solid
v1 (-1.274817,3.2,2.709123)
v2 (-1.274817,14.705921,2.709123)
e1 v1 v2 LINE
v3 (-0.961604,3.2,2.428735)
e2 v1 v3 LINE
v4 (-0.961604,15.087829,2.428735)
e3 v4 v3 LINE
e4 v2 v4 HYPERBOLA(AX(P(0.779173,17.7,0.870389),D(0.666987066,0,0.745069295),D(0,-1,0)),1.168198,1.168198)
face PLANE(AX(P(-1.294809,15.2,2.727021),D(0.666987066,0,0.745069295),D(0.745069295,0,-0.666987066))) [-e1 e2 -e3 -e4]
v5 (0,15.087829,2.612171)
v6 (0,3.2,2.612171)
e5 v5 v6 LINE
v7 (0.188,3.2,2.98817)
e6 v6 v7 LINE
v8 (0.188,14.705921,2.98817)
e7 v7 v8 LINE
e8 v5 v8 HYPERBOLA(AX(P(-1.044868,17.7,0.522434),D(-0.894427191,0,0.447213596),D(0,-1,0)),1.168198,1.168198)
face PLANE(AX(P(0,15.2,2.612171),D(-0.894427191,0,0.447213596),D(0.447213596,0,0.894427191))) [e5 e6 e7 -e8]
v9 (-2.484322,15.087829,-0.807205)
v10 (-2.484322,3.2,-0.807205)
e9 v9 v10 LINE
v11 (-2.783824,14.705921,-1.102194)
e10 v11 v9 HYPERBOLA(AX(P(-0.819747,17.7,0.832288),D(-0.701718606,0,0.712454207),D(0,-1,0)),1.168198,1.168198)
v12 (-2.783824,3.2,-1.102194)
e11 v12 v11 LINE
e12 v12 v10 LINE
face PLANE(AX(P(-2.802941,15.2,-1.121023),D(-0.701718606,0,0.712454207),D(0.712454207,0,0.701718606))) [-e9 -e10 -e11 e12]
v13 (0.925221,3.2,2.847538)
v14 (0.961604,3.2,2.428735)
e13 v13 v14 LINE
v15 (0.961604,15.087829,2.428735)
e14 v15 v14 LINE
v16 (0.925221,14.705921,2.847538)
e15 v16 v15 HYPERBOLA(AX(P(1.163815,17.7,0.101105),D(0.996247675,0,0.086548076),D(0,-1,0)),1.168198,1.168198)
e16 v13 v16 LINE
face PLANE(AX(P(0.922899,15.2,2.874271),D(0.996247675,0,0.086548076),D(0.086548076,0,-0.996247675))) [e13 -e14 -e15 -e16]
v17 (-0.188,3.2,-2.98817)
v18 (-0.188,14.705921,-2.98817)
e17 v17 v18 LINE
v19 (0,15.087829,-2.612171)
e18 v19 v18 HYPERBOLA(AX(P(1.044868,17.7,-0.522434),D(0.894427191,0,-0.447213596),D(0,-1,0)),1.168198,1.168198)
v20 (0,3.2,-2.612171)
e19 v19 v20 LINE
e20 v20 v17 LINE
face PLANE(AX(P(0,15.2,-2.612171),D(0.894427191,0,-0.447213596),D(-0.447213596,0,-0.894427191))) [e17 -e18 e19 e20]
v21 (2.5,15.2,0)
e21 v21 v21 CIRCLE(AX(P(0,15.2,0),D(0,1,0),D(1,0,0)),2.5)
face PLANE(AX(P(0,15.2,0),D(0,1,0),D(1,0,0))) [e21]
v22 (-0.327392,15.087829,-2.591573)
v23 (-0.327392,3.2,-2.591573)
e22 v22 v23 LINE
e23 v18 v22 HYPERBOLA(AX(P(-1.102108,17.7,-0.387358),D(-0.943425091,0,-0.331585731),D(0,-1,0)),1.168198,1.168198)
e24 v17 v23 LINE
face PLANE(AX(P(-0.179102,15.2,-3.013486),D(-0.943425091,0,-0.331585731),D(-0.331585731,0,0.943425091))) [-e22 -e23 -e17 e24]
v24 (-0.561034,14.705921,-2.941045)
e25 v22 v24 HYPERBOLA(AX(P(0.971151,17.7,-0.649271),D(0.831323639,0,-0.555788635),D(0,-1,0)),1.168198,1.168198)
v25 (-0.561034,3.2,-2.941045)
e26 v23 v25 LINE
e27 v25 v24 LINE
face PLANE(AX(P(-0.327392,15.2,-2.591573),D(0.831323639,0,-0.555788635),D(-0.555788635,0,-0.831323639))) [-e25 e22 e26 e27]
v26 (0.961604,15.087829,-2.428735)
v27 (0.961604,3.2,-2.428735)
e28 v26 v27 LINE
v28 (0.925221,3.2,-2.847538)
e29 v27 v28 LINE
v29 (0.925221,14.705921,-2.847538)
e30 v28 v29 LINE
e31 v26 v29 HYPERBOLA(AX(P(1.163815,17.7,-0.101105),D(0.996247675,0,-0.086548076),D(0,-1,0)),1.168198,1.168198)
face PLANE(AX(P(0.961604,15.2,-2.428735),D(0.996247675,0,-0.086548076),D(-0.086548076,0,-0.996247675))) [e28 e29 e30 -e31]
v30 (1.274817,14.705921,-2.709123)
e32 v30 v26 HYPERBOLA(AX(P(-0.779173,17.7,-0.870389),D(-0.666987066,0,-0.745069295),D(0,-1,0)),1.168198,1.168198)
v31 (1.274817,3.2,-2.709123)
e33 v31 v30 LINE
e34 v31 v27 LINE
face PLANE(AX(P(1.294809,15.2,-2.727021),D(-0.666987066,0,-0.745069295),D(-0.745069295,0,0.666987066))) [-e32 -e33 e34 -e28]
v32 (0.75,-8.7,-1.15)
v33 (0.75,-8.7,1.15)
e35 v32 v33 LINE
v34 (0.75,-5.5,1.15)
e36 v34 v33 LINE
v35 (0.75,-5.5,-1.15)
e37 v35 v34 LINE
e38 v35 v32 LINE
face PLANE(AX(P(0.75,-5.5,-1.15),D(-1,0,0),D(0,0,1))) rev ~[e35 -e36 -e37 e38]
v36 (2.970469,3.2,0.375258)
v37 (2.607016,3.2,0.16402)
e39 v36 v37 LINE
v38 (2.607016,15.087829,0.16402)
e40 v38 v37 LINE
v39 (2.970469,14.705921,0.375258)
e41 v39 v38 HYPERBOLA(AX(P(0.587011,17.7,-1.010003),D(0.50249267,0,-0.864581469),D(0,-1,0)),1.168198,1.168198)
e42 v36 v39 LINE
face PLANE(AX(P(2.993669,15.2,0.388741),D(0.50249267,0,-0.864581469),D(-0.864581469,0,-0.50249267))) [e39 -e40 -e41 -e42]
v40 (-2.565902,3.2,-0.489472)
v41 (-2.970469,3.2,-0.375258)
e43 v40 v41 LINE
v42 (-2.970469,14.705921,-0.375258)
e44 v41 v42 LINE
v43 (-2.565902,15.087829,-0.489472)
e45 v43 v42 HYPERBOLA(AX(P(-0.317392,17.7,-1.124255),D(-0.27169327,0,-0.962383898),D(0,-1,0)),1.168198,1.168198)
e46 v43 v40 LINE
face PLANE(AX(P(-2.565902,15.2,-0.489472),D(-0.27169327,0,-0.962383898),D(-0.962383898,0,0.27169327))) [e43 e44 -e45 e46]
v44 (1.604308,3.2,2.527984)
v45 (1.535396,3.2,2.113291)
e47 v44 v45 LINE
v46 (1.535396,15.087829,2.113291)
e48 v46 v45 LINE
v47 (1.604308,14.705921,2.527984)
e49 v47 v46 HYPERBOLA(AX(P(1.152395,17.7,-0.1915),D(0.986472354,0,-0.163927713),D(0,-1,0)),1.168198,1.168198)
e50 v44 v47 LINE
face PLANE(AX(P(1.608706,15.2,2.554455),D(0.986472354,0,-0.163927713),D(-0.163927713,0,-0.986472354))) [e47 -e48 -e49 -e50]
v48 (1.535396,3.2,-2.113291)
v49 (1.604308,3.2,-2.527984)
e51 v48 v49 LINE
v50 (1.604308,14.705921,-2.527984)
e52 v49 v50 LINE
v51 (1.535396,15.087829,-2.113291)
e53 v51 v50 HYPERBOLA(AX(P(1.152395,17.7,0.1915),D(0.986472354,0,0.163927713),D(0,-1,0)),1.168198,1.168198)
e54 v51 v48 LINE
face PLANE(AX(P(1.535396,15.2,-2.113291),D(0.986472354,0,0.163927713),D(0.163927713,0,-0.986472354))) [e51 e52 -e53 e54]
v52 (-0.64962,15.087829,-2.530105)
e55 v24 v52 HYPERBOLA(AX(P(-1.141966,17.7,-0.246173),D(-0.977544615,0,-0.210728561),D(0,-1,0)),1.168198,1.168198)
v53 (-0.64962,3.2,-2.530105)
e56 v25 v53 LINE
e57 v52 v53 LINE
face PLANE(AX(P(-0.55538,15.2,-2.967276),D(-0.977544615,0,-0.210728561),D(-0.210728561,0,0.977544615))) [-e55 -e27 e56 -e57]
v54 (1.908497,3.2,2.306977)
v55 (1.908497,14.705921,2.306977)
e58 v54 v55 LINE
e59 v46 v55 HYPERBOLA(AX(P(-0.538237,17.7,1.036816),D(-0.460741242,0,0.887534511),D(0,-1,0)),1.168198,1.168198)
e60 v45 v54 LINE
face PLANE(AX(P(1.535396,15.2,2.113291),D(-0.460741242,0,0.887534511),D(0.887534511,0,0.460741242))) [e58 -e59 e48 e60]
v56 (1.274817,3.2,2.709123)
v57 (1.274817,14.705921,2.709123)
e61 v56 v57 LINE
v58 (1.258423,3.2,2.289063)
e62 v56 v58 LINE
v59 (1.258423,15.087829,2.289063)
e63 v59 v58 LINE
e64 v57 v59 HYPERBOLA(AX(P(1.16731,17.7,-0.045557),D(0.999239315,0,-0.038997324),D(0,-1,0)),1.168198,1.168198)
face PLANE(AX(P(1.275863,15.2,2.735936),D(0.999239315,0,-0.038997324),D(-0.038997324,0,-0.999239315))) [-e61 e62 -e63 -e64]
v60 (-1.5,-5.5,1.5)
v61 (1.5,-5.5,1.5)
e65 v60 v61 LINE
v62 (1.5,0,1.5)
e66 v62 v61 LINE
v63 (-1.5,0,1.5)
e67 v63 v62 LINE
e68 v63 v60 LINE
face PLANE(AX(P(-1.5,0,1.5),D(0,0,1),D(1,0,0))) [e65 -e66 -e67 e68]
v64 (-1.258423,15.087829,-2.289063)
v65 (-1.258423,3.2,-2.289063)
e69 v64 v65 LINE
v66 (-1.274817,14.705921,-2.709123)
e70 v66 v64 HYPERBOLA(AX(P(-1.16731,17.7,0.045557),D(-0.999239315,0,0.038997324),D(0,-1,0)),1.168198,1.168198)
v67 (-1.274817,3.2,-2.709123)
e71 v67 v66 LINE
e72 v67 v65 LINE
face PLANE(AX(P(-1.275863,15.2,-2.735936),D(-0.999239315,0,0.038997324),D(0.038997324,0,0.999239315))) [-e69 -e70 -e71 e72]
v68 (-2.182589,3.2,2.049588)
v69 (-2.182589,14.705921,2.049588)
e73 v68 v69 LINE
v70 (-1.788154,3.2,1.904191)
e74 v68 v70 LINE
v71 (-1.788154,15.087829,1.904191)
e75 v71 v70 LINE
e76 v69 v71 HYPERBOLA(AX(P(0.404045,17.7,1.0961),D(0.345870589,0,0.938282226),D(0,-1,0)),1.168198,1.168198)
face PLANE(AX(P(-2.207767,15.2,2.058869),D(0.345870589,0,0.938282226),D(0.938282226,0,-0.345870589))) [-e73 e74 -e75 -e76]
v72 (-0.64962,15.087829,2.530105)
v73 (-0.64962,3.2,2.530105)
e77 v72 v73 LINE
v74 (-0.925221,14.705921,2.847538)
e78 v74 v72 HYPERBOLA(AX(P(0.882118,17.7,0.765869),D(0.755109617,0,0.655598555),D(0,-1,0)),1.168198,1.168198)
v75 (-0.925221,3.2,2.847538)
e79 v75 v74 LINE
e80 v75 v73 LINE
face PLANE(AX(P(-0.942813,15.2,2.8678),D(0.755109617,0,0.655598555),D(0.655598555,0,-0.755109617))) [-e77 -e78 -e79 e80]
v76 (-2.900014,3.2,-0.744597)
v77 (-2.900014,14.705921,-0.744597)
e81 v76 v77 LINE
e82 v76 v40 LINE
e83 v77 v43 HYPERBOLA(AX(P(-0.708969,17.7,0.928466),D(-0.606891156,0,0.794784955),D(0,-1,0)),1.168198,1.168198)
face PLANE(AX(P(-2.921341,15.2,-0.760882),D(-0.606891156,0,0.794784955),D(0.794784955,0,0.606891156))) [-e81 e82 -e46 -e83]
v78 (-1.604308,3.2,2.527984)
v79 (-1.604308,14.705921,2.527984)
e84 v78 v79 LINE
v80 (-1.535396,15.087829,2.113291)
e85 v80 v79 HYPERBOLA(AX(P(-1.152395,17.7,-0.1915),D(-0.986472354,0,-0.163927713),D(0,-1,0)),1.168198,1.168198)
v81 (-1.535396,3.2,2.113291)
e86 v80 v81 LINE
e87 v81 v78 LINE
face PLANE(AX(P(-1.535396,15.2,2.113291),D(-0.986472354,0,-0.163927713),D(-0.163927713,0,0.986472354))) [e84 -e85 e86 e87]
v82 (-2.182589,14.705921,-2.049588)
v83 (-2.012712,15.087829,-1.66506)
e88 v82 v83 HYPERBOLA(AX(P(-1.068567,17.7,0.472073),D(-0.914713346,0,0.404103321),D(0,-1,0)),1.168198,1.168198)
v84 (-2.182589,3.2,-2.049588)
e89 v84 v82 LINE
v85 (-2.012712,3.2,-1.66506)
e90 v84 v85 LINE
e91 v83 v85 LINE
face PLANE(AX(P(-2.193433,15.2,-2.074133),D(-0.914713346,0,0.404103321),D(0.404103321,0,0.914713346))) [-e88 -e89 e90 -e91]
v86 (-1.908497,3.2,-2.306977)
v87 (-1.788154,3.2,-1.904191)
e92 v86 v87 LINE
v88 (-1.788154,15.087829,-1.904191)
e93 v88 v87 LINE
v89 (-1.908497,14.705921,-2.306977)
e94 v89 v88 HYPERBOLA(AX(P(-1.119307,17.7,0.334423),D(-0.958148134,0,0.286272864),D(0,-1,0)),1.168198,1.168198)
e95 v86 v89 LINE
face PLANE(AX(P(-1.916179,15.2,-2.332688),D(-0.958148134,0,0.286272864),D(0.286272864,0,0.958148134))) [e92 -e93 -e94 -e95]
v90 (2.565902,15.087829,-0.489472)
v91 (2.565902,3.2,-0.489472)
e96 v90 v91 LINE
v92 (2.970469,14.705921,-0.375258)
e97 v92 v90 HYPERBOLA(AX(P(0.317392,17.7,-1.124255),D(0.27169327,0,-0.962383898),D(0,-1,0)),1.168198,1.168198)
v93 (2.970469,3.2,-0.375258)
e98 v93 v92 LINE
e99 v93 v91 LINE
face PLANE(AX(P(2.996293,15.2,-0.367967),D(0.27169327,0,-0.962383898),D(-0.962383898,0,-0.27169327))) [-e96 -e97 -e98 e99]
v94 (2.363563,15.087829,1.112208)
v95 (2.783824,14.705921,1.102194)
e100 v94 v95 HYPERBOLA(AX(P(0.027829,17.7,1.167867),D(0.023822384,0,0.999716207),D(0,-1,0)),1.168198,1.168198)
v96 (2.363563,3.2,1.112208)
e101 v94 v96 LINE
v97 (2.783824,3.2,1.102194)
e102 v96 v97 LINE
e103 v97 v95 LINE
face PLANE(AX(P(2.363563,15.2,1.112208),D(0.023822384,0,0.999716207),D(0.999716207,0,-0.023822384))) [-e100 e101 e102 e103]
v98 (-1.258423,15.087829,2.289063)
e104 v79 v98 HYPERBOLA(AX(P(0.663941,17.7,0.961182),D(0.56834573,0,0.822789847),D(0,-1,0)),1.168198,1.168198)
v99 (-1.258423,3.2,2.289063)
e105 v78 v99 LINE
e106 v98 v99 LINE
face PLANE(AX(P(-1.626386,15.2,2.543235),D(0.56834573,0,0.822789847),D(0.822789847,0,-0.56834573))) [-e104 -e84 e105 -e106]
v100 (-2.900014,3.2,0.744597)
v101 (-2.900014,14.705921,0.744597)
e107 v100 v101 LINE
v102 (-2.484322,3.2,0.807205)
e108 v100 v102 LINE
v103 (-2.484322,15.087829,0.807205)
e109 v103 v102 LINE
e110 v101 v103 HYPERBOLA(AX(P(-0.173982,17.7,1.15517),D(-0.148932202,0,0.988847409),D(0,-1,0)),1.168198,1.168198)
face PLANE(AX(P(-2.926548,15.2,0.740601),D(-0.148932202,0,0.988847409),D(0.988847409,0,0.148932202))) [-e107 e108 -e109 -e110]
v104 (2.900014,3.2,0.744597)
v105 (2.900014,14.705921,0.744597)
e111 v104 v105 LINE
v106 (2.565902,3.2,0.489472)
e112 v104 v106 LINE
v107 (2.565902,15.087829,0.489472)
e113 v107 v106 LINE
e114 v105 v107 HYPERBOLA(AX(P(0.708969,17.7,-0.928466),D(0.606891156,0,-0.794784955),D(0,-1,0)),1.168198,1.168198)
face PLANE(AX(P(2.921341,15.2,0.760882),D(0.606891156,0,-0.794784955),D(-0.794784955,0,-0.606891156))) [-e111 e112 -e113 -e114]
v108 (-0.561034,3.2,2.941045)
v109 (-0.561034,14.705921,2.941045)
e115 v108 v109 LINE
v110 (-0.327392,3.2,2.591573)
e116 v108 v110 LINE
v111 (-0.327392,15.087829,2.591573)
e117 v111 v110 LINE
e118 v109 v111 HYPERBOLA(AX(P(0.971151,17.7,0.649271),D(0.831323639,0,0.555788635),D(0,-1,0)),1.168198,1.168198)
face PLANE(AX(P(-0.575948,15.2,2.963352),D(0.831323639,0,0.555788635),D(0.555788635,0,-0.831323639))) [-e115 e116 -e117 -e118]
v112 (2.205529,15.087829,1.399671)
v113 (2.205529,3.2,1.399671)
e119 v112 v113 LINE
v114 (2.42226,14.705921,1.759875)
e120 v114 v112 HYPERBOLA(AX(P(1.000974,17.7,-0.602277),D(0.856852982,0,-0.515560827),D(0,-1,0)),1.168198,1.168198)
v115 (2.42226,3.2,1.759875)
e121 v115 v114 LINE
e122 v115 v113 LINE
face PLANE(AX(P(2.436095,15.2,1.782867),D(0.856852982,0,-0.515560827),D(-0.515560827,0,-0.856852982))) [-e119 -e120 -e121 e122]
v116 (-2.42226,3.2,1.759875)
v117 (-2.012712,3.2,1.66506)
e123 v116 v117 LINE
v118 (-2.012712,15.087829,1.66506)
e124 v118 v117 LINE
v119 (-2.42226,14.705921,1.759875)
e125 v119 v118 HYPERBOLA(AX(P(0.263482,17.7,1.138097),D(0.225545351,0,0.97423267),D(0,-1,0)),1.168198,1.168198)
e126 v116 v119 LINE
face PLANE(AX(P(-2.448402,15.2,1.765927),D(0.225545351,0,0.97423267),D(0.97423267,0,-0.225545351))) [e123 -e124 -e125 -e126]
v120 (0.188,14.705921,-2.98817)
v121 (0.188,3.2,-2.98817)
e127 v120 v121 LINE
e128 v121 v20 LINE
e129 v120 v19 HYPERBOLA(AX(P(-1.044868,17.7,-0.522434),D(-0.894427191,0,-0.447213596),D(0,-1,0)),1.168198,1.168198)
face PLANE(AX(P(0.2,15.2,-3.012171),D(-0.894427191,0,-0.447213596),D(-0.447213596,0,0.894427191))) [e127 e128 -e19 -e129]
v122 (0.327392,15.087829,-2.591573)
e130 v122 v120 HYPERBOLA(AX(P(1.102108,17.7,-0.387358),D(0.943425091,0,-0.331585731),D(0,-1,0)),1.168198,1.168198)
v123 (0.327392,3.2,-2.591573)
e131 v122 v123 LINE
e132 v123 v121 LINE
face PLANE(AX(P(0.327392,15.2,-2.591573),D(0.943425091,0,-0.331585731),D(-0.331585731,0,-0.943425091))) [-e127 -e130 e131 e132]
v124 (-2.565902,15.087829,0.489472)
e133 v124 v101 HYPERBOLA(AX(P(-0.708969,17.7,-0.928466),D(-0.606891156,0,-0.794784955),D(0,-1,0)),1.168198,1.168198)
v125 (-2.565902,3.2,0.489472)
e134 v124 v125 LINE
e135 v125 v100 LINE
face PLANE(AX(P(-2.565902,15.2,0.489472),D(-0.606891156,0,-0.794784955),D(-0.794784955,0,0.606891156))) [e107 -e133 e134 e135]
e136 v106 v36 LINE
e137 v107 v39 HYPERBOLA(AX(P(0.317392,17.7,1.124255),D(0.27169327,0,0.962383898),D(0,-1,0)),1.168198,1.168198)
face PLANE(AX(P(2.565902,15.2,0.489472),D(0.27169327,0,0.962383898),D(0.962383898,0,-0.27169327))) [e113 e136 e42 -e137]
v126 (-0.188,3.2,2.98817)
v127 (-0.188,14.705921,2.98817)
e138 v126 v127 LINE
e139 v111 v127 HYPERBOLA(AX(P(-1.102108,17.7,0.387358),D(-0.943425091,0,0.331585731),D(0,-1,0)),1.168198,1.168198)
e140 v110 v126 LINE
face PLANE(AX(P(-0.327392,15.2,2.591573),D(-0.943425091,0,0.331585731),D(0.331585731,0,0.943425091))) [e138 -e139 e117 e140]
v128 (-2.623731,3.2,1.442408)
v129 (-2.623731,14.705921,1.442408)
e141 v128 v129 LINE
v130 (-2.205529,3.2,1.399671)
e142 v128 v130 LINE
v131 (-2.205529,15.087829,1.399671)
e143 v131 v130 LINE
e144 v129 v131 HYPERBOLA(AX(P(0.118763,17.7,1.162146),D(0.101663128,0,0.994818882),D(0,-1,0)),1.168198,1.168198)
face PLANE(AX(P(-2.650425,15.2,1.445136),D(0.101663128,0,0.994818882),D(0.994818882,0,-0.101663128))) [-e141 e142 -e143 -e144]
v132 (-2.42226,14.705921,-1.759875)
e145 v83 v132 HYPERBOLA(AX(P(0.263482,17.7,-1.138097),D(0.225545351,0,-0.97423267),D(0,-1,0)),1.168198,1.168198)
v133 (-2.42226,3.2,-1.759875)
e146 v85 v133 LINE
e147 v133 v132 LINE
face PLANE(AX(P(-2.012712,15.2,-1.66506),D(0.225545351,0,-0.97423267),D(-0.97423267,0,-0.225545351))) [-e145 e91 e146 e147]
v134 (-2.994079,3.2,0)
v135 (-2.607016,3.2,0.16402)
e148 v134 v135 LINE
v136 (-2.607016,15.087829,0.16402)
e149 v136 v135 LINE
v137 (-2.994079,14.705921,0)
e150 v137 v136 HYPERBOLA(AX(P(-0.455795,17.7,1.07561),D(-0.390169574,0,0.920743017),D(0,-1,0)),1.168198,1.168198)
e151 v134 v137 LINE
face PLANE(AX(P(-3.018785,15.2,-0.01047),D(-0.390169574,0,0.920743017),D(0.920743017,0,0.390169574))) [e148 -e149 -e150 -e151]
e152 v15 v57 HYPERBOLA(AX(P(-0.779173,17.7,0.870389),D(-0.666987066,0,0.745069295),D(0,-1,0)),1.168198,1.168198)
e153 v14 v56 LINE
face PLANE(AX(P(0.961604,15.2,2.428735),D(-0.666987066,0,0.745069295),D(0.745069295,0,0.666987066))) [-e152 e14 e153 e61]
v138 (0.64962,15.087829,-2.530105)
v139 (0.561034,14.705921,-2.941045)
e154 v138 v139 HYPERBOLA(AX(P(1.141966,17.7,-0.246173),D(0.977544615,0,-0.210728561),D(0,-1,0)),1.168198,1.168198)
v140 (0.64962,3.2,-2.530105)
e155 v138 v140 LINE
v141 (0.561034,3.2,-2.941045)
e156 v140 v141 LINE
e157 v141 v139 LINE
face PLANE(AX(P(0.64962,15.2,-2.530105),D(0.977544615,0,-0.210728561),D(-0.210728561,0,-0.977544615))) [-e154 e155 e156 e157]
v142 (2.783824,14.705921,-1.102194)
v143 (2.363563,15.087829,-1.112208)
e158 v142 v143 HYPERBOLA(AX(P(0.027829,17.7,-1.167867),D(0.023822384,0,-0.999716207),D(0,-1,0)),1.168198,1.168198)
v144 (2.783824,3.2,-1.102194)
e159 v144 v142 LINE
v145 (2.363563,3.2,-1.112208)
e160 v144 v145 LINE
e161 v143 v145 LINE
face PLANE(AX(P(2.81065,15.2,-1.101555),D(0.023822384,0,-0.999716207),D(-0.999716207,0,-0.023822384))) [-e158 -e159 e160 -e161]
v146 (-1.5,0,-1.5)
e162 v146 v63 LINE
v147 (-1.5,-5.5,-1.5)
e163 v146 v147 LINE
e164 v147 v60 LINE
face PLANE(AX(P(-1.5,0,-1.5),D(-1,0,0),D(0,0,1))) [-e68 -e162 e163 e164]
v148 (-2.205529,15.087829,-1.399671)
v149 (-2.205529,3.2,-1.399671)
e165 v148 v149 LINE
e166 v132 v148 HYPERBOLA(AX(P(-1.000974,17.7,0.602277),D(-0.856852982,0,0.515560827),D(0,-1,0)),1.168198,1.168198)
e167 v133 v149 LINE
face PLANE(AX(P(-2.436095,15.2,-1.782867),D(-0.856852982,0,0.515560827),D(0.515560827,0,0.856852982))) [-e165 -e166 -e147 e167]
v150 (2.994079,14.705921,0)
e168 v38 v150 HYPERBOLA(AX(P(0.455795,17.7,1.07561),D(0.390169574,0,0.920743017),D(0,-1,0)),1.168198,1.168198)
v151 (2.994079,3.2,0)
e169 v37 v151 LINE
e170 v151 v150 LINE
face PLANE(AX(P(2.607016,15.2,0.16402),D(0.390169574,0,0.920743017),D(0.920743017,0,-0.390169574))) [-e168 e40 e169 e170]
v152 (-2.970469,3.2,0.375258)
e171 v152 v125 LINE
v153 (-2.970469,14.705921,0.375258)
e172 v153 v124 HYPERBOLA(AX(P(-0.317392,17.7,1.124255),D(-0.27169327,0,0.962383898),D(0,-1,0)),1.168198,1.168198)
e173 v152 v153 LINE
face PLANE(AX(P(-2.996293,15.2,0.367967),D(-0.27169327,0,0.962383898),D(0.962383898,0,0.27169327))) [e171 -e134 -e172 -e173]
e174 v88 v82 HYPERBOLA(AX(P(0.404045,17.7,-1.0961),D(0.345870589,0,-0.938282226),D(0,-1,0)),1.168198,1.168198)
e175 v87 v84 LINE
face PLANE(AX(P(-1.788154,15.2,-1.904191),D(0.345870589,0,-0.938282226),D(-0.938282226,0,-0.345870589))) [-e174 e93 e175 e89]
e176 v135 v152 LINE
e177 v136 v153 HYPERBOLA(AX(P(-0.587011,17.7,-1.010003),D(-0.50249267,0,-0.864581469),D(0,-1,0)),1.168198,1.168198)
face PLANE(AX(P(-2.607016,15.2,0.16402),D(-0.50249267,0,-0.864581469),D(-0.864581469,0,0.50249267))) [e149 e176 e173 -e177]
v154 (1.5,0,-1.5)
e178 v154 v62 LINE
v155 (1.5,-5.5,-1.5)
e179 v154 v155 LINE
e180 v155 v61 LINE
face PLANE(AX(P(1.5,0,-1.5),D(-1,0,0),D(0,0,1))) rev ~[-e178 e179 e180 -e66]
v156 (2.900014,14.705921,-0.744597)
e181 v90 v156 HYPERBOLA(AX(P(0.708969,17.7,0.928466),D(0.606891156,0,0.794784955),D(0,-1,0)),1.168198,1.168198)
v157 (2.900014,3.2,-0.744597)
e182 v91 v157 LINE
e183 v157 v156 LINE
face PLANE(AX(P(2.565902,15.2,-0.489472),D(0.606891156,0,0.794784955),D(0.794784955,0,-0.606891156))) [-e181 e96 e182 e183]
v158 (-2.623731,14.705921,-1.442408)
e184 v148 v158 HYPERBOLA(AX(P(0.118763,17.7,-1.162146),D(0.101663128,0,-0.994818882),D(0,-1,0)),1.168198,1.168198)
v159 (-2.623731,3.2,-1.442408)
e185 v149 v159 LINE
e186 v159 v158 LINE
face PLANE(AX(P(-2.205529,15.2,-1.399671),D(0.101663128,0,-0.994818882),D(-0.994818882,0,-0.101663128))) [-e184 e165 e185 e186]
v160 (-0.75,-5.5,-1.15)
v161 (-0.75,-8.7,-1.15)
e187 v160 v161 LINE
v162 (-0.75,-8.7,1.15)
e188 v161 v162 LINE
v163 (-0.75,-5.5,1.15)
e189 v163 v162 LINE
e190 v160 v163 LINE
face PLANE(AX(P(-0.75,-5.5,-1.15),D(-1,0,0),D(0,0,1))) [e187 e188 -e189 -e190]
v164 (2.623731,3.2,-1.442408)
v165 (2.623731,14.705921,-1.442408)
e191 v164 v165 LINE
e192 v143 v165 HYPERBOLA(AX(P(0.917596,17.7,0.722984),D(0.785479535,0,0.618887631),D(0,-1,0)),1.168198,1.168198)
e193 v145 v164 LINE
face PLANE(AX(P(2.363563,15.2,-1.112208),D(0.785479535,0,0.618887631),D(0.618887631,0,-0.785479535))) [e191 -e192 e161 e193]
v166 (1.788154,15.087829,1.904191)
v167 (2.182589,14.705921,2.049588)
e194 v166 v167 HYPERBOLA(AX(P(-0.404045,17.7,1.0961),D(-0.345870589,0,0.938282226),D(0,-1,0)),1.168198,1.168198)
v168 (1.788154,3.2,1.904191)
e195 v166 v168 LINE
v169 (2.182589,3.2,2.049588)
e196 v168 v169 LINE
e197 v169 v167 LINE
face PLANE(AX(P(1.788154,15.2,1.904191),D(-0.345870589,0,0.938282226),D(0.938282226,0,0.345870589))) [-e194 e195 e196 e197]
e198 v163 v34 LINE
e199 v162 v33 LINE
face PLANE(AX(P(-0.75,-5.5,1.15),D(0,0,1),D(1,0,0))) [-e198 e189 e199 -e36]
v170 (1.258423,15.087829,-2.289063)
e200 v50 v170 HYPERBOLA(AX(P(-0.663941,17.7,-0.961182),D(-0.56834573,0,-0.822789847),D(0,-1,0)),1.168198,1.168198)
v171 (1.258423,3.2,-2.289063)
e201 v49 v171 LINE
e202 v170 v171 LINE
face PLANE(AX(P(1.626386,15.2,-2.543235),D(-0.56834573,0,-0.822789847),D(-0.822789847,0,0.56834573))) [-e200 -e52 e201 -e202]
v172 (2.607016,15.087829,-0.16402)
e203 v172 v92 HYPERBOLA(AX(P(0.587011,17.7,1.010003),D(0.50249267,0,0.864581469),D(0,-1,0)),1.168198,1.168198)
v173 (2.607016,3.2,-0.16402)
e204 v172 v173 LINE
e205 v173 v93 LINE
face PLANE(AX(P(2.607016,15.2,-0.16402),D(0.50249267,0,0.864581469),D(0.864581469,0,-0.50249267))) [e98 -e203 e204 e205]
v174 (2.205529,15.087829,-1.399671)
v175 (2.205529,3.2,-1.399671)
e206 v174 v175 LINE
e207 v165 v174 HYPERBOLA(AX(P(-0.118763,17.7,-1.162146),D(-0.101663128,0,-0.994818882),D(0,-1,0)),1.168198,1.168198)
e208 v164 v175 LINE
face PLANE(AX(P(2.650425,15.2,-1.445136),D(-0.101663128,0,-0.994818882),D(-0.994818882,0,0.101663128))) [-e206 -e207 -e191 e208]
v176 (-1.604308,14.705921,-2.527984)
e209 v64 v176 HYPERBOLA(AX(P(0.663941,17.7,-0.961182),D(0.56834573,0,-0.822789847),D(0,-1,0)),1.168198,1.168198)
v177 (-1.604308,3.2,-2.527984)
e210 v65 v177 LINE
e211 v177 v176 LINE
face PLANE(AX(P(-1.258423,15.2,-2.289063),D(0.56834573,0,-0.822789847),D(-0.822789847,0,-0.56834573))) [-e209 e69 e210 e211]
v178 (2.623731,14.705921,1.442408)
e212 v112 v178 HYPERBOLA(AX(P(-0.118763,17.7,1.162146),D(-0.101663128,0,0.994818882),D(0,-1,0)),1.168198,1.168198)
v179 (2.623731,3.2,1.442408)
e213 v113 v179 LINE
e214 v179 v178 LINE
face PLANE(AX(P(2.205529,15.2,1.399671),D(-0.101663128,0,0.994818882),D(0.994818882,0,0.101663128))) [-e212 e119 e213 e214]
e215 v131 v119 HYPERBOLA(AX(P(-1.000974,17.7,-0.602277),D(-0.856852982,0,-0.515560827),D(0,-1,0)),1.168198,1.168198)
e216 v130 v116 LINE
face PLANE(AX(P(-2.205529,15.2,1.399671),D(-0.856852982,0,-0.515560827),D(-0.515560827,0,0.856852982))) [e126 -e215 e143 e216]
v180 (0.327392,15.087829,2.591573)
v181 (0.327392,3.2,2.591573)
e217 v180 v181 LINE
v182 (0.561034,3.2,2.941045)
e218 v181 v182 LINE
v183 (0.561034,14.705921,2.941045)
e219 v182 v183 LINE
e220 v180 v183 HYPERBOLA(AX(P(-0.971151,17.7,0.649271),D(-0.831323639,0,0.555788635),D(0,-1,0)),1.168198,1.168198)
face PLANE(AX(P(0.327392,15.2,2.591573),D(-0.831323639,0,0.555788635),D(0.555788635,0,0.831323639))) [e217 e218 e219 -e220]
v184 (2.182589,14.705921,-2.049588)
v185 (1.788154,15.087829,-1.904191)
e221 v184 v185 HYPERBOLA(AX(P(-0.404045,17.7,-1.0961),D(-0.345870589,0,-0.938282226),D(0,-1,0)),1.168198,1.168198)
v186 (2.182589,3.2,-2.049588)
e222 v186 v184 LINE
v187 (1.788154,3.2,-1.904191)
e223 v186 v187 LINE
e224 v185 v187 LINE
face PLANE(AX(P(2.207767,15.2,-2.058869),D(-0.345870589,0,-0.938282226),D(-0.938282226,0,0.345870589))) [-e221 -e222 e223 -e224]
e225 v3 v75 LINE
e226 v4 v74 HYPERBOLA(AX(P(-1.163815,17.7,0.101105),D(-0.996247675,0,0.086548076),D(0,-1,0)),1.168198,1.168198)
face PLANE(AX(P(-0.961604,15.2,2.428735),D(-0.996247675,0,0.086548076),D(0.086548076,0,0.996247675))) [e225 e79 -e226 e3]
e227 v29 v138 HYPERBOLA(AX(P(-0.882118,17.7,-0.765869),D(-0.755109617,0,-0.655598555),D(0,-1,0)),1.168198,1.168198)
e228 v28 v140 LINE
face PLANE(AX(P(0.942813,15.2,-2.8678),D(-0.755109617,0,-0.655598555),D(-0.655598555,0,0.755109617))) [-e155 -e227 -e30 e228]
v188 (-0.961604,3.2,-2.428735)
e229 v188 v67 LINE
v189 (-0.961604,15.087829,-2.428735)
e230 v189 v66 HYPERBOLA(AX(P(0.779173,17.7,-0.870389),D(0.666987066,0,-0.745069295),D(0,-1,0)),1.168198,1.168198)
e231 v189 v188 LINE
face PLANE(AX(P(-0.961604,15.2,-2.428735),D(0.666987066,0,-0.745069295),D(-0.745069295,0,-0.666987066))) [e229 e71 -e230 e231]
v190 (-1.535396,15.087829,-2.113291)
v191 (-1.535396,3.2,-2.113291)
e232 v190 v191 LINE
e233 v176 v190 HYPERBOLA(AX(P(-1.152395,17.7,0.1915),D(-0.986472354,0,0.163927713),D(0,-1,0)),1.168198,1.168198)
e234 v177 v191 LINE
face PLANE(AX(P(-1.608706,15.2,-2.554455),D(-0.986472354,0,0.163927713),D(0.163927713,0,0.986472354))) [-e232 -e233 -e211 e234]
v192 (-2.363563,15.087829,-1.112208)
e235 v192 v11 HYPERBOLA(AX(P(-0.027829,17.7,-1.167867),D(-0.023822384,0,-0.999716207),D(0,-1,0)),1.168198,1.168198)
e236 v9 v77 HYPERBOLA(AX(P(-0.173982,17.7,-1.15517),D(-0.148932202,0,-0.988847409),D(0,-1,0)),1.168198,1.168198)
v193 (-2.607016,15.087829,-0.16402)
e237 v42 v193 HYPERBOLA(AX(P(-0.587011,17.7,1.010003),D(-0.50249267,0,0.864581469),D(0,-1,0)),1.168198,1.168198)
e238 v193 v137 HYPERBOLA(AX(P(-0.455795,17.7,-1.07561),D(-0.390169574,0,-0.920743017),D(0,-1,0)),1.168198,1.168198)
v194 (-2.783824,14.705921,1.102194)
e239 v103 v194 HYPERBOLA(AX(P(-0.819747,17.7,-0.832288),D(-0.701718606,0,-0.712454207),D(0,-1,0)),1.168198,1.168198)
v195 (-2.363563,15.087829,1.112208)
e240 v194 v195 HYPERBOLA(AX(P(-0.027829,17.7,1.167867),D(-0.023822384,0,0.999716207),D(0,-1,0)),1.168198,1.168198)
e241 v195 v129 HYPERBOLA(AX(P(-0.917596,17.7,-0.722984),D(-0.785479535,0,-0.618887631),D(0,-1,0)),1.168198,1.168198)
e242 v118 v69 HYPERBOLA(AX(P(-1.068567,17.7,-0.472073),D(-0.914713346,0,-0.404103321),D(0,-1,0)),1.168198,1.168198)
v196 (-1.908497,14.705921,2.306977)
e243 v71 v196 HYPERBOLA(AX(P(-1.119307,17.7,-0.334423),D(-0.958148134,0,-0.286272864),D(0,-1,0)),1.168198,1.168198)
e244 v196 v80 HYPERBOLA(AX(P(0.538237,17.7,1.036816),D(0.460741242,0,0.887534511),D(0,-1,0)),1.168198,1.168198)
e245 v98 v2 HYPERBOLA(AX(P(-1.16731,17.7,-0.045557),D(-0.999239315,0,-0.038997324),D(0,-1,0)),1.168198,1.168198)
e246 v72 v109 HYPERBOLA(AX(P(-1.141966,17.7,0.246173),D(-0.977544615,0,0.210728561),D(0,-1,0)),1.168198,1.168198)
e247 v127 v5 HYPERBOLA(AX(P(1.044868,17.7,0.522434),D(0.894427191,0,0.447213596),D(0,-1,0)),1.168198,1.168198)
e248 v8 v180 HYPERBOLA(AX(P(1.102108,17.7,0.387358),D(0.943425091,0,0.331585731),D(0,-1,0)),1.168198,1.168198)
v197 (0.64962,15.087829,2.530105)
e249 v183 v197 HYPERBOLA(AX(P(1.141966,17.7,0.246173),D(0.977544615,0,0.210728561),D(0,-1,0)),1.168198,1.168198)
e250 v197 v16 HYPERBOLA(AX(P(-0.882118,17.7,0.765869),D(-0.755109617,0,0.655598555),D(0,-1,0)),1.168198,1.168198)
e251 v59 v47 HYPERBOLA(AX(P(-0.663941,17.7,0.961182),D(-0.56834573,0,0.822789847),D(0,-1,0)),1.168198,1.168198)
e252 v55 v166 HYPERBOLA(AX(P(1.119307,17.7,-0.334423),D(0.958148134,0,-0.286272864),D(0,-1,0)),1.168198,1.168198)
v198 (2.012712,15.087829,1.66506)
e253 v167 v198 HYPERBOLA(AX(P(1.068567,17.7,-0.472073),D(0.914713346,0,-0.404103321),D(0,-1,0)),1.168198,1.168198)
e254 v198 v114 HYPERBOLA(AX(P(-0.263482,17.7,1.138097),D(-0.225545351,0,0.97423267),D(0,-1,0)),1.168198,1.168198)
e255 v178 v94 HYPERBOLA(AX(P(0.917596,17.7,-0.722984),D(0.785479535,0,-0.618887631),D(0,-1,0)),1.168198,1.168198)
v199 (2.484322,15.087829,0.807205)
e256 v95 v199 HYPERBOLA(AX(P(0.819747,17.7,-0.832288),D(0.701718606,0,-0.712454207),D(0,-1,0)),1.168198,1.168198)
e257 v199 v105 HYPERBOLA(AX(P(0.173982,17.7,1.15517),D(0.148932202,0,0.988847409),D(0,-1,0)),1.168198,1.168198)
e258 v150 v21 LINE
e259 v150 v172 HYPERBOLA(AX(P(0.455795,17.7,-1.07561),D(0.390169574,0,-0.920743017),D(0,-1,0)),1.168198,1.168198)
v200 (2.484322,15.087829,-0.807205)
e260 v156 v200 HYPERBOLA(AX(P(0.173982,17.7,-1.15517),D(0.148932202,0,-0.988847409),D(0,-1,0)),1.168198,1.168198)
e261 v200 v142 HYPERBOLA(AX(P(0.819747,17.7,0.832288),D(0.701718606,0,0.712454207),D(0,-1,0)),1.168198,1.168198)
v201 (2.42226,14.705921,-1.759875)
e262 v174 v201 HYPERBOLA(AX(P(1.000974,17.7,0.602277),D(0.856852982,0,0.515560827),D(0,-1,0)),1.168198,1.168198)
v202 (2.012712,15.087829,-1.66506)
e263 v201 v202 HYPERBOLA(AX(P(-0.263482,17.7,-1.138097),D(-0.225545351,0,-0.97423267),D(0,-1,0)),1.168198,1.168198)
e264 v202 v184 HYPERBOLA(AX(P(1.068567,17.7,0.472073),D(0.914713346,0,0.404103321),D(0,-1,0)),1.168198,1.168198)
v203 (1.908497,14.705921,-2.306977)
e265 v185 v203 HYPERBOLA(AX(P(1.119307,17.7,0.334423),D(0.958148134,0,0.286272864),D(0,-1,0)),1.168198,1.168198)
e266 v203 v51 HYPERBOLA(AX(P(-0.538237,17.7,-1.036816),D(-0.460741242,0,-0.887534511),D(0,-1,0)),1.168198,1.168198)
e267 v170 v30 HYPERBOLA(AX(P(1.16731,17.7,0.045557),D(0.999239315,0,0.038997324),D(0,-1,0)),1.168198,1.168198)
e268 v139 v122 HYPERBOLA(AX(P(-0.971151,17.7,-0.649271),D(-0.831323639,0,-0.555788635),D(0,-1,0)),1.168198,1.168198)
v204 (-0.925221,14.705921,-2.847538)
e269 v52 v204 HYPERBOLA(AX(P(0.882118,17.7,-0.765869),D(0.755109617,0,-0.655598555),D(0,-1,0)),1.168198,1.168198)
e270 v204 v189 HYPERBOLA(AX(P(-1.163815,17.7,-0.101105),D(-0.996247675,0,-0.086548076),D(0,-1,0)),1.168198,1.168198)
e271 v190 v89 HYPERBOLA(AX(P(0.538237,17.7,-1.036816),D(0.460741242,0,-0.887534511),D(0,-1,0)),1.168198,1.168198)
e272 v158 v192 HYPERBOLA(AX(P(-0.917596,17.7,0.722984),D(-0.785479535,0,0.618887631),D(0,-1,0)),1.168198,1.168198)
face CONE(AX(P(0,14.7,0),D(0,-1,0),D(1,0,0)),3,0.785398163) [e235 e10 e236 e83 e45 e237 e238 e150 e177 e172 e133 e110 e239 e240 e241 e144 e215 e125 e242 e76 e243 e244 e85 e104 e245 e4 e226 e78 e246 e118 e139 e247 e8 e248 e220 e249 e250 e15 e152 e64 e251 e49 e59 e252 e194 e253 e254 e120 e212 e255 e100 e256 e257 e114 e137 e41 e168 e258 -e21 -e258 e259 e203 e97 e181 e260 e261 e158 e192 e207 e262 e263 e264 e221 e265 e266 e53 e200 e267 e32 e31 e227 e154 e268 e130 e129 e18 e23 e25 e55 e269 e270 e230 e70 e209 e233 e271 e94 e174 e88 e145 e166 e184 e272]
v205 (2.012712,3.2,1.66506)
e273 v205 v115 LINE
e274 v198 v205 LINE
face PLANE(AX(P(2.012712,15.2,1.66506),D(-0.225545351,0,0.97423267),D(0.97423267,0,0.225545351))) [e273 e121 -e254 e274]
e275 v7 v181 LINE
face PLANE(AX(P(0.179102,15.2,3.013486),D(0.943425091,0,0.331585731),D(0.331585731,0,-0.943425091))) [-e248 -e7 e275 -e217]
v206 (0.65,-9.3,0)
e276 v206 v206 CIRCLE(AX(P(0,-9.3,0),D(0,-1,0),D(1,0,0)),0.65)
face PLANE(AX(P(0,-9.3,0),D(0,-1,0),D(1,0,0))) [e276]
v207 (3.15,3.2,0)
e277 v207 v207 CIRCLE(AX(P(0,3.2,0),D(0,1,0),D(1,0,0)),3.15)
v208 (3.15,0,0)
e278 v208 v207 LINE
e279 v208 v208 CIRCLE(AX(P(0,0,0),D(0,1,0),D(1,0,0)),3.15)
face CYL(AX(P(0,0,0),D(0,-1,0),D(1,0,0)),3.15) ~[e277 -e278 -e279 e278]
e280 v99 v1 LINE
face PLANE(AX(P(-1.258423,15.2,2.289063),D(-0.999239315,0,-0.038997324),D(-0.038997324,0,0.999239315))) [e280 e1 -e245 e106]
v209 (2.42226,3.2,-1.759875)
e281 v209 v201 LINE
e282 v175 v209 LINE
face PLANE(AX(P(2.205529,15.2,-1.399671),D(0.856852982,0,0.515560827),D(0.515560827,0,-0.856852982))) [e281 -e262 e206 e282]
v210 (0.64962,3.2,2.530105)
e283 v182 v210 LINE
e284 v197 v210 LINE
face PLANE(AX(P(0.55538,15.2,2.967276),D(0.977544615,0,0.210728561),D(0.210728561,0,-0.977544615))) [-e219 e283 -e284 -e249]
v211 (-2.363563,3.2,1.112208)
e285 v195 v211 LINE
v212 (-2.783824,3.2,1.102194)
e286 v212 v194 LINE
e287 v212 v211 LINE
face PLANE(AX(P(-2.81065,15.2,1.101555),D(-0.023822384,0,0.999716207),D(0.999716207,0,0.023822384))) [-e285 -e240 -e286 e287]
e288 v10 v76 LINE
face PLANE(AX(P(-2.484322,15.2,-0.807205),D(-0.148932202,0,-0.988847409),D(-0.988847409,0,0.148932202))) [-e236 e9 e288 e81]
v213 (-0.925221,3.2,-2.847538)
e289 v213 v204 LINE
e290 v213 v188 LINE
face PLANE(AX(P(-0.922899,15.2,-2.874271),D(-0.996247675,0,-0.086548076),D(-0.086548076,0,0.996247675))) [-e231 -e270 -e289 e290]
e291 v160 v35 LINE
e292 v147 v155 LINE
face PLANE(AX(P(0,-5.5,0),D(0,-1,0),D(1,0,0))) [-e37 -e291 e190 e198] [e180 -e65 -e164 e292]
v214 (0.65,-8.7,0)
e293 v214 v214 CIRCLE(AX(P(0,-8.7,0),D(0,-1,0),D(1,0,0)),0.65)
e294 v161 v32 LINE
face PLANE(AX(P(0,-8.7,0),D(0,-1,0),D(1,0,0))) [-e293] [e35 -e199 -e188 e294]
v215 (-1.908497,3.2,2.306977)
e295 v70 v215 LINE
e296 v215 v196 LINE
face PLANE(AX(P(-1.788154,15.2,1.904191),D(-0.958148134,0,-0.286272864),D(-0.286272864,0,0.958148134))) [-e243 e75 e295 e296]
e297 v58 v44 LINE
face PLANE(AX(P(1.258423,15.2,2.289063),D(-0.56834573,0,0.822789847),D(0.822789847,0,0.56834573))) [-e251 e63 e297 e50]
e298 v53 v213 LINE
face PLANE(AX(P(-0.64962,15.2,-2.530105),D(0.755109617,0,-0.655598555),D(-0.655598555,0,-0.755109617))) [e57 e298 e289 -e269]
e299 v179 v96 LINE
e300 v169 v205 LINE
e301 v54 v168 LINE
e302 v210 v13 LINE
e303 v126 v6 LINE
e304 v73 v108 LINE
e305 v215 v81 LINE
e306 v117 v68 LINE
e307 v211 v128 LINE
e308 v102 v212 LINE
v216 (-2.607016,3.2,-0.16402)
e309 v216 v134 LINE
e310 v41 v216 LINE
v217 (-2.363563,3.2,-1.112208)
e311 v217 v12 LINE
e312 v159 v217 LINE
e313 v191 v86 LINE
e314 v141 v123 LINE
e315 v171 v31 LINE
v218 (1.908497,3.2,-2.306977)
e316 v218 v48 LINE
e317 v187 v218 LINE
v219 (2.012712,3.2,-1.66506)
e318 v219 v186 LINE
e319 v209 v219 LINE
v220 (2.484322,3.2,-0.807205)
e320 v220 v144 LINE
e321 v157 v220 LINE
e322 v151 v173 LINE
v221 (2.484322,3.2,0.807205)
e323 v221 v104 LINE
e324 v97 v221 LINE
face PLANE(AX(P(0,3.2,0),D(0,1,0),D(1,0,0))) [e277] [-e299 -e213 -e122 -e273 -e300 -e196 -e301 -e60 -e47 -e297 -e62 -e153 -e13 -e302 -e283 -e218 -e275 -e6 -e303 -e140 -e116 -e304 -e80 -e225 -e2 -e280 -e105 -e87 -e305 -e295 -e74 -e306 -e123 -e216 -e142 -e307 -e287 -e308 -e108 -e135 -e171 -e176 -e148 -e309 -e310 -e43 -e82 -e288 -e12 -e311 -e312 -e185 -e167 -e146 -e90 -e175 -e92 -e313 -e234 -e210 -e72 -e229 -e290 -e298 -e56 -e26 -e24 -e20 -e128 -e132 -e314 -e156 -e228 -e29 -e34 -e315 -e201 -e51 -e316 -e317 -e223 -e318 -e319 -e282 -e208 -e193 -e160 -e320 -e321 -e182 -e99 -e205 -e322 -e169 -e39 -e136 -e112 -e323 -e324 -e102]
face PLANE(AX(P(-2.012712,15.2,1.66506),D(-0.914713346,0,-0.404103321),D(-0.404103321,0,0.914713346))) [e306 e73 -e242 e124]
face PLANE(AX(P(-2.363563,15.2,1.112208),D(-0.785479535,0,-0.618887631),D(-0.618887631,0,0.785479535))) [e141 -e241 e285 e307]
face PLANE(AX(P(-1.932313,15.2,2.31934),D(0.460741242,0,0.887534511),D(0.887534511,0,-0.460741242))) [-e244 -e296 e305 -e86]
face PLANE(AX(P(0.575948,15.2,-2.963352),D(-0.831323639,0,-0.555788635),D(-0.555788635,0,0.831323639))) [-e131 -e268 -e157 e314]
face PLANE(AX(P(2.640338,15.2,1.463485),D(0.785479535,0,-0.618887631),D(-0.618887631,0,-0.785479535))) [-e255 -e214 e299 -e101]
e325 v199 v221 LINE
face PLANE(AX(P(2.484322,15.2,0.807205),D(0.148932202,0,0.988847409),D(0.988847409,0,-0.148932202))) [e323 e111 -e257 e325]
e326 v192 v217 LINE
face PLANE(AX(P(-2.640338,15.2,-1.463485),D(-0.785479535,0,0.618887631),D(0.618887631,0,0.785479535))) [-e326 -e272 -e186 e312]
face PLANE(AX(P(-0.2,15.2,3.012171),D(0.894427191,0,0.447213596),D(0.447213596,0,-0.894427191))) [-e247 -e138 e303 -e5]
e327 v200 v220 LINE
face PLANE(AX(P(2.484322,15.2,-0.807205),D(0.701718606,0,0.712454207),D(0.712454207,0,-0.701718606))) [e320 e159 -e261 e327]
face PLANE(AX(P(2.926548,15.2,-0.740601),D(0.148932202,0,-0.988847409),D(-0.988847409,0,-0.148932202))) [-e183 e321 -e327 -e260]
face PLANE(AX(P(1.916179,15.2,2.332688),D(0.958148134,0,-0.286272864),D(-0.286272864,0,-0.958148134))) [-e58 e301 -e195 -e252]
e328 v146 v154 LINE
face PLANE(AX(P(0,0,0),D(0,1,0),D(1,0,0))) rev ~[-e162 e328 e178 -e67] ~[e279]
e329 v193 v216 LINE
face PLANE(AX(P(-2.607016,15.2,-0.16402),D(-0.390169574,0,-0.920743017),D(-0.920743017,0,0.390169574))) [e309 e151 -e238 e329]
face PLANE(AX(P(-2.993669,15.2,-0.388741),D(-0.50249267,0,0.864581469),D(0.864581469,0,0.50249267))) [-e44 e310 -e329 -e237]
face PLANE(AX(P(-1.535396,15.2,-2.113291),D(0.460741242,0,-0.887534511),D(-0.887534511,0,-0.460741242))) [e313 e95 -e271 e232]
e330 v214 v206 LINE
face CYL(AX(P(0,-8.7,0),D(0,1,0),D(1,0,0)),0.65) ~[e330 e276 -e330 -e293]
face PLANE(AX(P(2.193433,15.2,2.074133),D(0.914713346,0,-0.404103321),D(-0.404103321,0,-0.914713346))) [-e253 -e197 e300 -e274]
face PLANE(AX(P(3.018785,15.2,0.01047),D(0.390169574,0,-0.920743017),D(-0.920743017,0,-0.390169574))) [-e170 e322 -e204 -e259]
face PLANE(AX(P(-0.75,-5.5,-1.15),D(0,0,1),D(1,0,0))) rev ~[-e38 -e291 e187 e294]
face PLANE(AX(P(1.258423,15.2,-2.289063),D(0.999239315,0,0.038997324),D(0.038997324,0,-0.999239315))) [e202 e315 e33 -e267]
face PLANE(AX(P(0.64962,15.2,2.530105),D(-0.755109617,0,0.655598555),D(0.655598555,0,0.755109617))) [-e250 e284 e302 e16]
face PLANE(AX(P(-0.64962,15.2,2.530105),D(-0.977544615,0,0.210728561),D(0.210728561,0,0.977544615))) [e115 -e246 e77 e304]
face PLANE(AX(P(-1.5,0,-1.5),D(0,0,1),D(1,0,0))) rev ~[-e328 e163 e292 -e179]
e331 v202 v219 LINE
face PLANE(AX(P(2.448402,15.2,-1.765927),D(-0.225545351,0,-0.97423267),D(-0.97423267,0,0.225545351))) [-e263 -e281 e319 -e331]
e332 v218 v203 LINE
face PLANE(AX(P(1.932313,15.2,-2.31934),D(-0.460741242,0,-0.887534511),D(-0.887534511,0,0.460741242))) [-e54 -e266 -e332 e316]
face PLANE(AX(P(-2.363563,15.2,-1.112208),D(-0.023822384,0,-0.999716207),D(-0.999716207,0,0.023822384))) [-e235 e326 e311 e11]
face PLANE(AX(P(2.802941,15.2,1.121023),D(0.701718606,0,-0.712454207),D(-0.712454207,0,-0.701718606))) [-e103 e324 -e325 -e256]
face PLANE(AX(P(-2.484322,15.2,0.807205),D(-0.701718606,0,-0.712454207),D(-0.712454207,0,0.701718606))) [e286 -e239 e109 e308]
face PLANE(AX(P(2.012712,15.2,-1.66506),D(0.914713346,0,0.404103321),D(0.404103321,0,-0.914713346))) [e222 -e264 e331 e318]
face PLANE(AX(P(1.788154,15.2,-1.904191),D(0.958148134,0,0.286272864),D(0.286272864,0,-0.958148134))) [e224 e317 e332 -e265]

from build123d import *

# Parameters (mm, degrees)
SKETCH_1_R               = 3.15
EXTRUDE_1_DEPTH          = 3.2
SKETCH_2_R               = 3
EXTRUDE_2_DEPTH          = 12
CHAMFER_1_SIZE           = 0.5
SKETCH_3_W               = 3
SKETCH_3_H               = 3
EXTRUDE_3_DEPTH          = 5.5
SKETCH_4_W               = 1.5
SKETCH_4_H               = 2.3
EXTRUDE_4_DEPTH          = 3.2
SKETCH_5_R               = 0.65
EXTRUDE_5_DEPTH          = 0.6
CUT_EXTRUDE_1_DEPTH      = 12
PATTERN_CIRCULAR_1_COUNT = 50


with BuildPart() as part:
    # Эскиз1 → Бобышка-Вытянуть1 (new body)
    with BuildSketch(Plane(origin=(0, 0, 0), x_dir=(1, 0, 0), z_dir=(0, 1, 0))):
        Circle(SKETCH_1_R)
    extrude(amount=EXTRUDE_1_DEPTH)

    # Эскиз2 → Бобышка-Вытянуть2 (add)
    with BuildSketch(Plane(origin=(0, 3.2, 0), x_dir=(1, 0, 0), z_dir=(0, 1, 0))):
        Circle(SKETCH_2_R)
    extrude(amount=EXTRUDE_2_DEPTH)

    # Фаска1
    chamfer_1_edges = [part.edges().sort_by_distance(p)[0] for p in [
        (-3, 15.2, 0),
    ]]
    chamfer(chamfer_1_edges, length=CHAMFER_1_SIZE)

    # Эскиз3 → Бобышка-Вытянуть3 (add)
    with BuildSketch(Plane.XZ):
        Rectangle(SKETCH_3_W, SKETCH_3_H)
    extrude(amount=EXTRUDE_3_DEPTH)

    # Эскиз4 → Бобышка-Вытянуть4 (add)
    with BuildSketch(Plane.XZ.offset(5.5)):
        Rectangle(SKETCH_4_W, SKETCH_4_H)
    extrude(amount=EXTRUDE_4_DEPTH)

    # Эскиз5 → Бобышка-Вытянуть5 (add)
    with BuildSketch(Plane.XZ.offset(8.7)):
        Circle(SKETCH_5_R)
    extrude(amount=EXTRUDE_5_DEPTH)

    # Эскиз7 → Вырез-Вытянуть1 (cut)
    with BuildSketch(Plane(origin=(0, 15.2, 0), x_dir=(1, 0, 0), z_dir=(0, 1, 0))):
        Polygon((0, 2.612170904), (-0.2, 3.012170904), (0.2, 3.012170904), align=None)
    cut_extrude_1 = extrude(amount=-CUT_EXTRUDE_1_DEPTH, mode=Mode.SUBTRACT)

    # Круговой массив1: Вырез-Вытянуть1 ×50 about axis
    pattern_circular_1_axis = Axis((0, 0, 0), (0, 1, 0))
    for i in range(1, PATTERN_CIRCULAR_1_COUNT):
        add(cut_extrude_1.rotate(pattern_circular_1_axis, i * 360 / PATTERN_CIRCULAR_1_COUNT), mode=Mode.SUBTRACT)


solid = part.part
